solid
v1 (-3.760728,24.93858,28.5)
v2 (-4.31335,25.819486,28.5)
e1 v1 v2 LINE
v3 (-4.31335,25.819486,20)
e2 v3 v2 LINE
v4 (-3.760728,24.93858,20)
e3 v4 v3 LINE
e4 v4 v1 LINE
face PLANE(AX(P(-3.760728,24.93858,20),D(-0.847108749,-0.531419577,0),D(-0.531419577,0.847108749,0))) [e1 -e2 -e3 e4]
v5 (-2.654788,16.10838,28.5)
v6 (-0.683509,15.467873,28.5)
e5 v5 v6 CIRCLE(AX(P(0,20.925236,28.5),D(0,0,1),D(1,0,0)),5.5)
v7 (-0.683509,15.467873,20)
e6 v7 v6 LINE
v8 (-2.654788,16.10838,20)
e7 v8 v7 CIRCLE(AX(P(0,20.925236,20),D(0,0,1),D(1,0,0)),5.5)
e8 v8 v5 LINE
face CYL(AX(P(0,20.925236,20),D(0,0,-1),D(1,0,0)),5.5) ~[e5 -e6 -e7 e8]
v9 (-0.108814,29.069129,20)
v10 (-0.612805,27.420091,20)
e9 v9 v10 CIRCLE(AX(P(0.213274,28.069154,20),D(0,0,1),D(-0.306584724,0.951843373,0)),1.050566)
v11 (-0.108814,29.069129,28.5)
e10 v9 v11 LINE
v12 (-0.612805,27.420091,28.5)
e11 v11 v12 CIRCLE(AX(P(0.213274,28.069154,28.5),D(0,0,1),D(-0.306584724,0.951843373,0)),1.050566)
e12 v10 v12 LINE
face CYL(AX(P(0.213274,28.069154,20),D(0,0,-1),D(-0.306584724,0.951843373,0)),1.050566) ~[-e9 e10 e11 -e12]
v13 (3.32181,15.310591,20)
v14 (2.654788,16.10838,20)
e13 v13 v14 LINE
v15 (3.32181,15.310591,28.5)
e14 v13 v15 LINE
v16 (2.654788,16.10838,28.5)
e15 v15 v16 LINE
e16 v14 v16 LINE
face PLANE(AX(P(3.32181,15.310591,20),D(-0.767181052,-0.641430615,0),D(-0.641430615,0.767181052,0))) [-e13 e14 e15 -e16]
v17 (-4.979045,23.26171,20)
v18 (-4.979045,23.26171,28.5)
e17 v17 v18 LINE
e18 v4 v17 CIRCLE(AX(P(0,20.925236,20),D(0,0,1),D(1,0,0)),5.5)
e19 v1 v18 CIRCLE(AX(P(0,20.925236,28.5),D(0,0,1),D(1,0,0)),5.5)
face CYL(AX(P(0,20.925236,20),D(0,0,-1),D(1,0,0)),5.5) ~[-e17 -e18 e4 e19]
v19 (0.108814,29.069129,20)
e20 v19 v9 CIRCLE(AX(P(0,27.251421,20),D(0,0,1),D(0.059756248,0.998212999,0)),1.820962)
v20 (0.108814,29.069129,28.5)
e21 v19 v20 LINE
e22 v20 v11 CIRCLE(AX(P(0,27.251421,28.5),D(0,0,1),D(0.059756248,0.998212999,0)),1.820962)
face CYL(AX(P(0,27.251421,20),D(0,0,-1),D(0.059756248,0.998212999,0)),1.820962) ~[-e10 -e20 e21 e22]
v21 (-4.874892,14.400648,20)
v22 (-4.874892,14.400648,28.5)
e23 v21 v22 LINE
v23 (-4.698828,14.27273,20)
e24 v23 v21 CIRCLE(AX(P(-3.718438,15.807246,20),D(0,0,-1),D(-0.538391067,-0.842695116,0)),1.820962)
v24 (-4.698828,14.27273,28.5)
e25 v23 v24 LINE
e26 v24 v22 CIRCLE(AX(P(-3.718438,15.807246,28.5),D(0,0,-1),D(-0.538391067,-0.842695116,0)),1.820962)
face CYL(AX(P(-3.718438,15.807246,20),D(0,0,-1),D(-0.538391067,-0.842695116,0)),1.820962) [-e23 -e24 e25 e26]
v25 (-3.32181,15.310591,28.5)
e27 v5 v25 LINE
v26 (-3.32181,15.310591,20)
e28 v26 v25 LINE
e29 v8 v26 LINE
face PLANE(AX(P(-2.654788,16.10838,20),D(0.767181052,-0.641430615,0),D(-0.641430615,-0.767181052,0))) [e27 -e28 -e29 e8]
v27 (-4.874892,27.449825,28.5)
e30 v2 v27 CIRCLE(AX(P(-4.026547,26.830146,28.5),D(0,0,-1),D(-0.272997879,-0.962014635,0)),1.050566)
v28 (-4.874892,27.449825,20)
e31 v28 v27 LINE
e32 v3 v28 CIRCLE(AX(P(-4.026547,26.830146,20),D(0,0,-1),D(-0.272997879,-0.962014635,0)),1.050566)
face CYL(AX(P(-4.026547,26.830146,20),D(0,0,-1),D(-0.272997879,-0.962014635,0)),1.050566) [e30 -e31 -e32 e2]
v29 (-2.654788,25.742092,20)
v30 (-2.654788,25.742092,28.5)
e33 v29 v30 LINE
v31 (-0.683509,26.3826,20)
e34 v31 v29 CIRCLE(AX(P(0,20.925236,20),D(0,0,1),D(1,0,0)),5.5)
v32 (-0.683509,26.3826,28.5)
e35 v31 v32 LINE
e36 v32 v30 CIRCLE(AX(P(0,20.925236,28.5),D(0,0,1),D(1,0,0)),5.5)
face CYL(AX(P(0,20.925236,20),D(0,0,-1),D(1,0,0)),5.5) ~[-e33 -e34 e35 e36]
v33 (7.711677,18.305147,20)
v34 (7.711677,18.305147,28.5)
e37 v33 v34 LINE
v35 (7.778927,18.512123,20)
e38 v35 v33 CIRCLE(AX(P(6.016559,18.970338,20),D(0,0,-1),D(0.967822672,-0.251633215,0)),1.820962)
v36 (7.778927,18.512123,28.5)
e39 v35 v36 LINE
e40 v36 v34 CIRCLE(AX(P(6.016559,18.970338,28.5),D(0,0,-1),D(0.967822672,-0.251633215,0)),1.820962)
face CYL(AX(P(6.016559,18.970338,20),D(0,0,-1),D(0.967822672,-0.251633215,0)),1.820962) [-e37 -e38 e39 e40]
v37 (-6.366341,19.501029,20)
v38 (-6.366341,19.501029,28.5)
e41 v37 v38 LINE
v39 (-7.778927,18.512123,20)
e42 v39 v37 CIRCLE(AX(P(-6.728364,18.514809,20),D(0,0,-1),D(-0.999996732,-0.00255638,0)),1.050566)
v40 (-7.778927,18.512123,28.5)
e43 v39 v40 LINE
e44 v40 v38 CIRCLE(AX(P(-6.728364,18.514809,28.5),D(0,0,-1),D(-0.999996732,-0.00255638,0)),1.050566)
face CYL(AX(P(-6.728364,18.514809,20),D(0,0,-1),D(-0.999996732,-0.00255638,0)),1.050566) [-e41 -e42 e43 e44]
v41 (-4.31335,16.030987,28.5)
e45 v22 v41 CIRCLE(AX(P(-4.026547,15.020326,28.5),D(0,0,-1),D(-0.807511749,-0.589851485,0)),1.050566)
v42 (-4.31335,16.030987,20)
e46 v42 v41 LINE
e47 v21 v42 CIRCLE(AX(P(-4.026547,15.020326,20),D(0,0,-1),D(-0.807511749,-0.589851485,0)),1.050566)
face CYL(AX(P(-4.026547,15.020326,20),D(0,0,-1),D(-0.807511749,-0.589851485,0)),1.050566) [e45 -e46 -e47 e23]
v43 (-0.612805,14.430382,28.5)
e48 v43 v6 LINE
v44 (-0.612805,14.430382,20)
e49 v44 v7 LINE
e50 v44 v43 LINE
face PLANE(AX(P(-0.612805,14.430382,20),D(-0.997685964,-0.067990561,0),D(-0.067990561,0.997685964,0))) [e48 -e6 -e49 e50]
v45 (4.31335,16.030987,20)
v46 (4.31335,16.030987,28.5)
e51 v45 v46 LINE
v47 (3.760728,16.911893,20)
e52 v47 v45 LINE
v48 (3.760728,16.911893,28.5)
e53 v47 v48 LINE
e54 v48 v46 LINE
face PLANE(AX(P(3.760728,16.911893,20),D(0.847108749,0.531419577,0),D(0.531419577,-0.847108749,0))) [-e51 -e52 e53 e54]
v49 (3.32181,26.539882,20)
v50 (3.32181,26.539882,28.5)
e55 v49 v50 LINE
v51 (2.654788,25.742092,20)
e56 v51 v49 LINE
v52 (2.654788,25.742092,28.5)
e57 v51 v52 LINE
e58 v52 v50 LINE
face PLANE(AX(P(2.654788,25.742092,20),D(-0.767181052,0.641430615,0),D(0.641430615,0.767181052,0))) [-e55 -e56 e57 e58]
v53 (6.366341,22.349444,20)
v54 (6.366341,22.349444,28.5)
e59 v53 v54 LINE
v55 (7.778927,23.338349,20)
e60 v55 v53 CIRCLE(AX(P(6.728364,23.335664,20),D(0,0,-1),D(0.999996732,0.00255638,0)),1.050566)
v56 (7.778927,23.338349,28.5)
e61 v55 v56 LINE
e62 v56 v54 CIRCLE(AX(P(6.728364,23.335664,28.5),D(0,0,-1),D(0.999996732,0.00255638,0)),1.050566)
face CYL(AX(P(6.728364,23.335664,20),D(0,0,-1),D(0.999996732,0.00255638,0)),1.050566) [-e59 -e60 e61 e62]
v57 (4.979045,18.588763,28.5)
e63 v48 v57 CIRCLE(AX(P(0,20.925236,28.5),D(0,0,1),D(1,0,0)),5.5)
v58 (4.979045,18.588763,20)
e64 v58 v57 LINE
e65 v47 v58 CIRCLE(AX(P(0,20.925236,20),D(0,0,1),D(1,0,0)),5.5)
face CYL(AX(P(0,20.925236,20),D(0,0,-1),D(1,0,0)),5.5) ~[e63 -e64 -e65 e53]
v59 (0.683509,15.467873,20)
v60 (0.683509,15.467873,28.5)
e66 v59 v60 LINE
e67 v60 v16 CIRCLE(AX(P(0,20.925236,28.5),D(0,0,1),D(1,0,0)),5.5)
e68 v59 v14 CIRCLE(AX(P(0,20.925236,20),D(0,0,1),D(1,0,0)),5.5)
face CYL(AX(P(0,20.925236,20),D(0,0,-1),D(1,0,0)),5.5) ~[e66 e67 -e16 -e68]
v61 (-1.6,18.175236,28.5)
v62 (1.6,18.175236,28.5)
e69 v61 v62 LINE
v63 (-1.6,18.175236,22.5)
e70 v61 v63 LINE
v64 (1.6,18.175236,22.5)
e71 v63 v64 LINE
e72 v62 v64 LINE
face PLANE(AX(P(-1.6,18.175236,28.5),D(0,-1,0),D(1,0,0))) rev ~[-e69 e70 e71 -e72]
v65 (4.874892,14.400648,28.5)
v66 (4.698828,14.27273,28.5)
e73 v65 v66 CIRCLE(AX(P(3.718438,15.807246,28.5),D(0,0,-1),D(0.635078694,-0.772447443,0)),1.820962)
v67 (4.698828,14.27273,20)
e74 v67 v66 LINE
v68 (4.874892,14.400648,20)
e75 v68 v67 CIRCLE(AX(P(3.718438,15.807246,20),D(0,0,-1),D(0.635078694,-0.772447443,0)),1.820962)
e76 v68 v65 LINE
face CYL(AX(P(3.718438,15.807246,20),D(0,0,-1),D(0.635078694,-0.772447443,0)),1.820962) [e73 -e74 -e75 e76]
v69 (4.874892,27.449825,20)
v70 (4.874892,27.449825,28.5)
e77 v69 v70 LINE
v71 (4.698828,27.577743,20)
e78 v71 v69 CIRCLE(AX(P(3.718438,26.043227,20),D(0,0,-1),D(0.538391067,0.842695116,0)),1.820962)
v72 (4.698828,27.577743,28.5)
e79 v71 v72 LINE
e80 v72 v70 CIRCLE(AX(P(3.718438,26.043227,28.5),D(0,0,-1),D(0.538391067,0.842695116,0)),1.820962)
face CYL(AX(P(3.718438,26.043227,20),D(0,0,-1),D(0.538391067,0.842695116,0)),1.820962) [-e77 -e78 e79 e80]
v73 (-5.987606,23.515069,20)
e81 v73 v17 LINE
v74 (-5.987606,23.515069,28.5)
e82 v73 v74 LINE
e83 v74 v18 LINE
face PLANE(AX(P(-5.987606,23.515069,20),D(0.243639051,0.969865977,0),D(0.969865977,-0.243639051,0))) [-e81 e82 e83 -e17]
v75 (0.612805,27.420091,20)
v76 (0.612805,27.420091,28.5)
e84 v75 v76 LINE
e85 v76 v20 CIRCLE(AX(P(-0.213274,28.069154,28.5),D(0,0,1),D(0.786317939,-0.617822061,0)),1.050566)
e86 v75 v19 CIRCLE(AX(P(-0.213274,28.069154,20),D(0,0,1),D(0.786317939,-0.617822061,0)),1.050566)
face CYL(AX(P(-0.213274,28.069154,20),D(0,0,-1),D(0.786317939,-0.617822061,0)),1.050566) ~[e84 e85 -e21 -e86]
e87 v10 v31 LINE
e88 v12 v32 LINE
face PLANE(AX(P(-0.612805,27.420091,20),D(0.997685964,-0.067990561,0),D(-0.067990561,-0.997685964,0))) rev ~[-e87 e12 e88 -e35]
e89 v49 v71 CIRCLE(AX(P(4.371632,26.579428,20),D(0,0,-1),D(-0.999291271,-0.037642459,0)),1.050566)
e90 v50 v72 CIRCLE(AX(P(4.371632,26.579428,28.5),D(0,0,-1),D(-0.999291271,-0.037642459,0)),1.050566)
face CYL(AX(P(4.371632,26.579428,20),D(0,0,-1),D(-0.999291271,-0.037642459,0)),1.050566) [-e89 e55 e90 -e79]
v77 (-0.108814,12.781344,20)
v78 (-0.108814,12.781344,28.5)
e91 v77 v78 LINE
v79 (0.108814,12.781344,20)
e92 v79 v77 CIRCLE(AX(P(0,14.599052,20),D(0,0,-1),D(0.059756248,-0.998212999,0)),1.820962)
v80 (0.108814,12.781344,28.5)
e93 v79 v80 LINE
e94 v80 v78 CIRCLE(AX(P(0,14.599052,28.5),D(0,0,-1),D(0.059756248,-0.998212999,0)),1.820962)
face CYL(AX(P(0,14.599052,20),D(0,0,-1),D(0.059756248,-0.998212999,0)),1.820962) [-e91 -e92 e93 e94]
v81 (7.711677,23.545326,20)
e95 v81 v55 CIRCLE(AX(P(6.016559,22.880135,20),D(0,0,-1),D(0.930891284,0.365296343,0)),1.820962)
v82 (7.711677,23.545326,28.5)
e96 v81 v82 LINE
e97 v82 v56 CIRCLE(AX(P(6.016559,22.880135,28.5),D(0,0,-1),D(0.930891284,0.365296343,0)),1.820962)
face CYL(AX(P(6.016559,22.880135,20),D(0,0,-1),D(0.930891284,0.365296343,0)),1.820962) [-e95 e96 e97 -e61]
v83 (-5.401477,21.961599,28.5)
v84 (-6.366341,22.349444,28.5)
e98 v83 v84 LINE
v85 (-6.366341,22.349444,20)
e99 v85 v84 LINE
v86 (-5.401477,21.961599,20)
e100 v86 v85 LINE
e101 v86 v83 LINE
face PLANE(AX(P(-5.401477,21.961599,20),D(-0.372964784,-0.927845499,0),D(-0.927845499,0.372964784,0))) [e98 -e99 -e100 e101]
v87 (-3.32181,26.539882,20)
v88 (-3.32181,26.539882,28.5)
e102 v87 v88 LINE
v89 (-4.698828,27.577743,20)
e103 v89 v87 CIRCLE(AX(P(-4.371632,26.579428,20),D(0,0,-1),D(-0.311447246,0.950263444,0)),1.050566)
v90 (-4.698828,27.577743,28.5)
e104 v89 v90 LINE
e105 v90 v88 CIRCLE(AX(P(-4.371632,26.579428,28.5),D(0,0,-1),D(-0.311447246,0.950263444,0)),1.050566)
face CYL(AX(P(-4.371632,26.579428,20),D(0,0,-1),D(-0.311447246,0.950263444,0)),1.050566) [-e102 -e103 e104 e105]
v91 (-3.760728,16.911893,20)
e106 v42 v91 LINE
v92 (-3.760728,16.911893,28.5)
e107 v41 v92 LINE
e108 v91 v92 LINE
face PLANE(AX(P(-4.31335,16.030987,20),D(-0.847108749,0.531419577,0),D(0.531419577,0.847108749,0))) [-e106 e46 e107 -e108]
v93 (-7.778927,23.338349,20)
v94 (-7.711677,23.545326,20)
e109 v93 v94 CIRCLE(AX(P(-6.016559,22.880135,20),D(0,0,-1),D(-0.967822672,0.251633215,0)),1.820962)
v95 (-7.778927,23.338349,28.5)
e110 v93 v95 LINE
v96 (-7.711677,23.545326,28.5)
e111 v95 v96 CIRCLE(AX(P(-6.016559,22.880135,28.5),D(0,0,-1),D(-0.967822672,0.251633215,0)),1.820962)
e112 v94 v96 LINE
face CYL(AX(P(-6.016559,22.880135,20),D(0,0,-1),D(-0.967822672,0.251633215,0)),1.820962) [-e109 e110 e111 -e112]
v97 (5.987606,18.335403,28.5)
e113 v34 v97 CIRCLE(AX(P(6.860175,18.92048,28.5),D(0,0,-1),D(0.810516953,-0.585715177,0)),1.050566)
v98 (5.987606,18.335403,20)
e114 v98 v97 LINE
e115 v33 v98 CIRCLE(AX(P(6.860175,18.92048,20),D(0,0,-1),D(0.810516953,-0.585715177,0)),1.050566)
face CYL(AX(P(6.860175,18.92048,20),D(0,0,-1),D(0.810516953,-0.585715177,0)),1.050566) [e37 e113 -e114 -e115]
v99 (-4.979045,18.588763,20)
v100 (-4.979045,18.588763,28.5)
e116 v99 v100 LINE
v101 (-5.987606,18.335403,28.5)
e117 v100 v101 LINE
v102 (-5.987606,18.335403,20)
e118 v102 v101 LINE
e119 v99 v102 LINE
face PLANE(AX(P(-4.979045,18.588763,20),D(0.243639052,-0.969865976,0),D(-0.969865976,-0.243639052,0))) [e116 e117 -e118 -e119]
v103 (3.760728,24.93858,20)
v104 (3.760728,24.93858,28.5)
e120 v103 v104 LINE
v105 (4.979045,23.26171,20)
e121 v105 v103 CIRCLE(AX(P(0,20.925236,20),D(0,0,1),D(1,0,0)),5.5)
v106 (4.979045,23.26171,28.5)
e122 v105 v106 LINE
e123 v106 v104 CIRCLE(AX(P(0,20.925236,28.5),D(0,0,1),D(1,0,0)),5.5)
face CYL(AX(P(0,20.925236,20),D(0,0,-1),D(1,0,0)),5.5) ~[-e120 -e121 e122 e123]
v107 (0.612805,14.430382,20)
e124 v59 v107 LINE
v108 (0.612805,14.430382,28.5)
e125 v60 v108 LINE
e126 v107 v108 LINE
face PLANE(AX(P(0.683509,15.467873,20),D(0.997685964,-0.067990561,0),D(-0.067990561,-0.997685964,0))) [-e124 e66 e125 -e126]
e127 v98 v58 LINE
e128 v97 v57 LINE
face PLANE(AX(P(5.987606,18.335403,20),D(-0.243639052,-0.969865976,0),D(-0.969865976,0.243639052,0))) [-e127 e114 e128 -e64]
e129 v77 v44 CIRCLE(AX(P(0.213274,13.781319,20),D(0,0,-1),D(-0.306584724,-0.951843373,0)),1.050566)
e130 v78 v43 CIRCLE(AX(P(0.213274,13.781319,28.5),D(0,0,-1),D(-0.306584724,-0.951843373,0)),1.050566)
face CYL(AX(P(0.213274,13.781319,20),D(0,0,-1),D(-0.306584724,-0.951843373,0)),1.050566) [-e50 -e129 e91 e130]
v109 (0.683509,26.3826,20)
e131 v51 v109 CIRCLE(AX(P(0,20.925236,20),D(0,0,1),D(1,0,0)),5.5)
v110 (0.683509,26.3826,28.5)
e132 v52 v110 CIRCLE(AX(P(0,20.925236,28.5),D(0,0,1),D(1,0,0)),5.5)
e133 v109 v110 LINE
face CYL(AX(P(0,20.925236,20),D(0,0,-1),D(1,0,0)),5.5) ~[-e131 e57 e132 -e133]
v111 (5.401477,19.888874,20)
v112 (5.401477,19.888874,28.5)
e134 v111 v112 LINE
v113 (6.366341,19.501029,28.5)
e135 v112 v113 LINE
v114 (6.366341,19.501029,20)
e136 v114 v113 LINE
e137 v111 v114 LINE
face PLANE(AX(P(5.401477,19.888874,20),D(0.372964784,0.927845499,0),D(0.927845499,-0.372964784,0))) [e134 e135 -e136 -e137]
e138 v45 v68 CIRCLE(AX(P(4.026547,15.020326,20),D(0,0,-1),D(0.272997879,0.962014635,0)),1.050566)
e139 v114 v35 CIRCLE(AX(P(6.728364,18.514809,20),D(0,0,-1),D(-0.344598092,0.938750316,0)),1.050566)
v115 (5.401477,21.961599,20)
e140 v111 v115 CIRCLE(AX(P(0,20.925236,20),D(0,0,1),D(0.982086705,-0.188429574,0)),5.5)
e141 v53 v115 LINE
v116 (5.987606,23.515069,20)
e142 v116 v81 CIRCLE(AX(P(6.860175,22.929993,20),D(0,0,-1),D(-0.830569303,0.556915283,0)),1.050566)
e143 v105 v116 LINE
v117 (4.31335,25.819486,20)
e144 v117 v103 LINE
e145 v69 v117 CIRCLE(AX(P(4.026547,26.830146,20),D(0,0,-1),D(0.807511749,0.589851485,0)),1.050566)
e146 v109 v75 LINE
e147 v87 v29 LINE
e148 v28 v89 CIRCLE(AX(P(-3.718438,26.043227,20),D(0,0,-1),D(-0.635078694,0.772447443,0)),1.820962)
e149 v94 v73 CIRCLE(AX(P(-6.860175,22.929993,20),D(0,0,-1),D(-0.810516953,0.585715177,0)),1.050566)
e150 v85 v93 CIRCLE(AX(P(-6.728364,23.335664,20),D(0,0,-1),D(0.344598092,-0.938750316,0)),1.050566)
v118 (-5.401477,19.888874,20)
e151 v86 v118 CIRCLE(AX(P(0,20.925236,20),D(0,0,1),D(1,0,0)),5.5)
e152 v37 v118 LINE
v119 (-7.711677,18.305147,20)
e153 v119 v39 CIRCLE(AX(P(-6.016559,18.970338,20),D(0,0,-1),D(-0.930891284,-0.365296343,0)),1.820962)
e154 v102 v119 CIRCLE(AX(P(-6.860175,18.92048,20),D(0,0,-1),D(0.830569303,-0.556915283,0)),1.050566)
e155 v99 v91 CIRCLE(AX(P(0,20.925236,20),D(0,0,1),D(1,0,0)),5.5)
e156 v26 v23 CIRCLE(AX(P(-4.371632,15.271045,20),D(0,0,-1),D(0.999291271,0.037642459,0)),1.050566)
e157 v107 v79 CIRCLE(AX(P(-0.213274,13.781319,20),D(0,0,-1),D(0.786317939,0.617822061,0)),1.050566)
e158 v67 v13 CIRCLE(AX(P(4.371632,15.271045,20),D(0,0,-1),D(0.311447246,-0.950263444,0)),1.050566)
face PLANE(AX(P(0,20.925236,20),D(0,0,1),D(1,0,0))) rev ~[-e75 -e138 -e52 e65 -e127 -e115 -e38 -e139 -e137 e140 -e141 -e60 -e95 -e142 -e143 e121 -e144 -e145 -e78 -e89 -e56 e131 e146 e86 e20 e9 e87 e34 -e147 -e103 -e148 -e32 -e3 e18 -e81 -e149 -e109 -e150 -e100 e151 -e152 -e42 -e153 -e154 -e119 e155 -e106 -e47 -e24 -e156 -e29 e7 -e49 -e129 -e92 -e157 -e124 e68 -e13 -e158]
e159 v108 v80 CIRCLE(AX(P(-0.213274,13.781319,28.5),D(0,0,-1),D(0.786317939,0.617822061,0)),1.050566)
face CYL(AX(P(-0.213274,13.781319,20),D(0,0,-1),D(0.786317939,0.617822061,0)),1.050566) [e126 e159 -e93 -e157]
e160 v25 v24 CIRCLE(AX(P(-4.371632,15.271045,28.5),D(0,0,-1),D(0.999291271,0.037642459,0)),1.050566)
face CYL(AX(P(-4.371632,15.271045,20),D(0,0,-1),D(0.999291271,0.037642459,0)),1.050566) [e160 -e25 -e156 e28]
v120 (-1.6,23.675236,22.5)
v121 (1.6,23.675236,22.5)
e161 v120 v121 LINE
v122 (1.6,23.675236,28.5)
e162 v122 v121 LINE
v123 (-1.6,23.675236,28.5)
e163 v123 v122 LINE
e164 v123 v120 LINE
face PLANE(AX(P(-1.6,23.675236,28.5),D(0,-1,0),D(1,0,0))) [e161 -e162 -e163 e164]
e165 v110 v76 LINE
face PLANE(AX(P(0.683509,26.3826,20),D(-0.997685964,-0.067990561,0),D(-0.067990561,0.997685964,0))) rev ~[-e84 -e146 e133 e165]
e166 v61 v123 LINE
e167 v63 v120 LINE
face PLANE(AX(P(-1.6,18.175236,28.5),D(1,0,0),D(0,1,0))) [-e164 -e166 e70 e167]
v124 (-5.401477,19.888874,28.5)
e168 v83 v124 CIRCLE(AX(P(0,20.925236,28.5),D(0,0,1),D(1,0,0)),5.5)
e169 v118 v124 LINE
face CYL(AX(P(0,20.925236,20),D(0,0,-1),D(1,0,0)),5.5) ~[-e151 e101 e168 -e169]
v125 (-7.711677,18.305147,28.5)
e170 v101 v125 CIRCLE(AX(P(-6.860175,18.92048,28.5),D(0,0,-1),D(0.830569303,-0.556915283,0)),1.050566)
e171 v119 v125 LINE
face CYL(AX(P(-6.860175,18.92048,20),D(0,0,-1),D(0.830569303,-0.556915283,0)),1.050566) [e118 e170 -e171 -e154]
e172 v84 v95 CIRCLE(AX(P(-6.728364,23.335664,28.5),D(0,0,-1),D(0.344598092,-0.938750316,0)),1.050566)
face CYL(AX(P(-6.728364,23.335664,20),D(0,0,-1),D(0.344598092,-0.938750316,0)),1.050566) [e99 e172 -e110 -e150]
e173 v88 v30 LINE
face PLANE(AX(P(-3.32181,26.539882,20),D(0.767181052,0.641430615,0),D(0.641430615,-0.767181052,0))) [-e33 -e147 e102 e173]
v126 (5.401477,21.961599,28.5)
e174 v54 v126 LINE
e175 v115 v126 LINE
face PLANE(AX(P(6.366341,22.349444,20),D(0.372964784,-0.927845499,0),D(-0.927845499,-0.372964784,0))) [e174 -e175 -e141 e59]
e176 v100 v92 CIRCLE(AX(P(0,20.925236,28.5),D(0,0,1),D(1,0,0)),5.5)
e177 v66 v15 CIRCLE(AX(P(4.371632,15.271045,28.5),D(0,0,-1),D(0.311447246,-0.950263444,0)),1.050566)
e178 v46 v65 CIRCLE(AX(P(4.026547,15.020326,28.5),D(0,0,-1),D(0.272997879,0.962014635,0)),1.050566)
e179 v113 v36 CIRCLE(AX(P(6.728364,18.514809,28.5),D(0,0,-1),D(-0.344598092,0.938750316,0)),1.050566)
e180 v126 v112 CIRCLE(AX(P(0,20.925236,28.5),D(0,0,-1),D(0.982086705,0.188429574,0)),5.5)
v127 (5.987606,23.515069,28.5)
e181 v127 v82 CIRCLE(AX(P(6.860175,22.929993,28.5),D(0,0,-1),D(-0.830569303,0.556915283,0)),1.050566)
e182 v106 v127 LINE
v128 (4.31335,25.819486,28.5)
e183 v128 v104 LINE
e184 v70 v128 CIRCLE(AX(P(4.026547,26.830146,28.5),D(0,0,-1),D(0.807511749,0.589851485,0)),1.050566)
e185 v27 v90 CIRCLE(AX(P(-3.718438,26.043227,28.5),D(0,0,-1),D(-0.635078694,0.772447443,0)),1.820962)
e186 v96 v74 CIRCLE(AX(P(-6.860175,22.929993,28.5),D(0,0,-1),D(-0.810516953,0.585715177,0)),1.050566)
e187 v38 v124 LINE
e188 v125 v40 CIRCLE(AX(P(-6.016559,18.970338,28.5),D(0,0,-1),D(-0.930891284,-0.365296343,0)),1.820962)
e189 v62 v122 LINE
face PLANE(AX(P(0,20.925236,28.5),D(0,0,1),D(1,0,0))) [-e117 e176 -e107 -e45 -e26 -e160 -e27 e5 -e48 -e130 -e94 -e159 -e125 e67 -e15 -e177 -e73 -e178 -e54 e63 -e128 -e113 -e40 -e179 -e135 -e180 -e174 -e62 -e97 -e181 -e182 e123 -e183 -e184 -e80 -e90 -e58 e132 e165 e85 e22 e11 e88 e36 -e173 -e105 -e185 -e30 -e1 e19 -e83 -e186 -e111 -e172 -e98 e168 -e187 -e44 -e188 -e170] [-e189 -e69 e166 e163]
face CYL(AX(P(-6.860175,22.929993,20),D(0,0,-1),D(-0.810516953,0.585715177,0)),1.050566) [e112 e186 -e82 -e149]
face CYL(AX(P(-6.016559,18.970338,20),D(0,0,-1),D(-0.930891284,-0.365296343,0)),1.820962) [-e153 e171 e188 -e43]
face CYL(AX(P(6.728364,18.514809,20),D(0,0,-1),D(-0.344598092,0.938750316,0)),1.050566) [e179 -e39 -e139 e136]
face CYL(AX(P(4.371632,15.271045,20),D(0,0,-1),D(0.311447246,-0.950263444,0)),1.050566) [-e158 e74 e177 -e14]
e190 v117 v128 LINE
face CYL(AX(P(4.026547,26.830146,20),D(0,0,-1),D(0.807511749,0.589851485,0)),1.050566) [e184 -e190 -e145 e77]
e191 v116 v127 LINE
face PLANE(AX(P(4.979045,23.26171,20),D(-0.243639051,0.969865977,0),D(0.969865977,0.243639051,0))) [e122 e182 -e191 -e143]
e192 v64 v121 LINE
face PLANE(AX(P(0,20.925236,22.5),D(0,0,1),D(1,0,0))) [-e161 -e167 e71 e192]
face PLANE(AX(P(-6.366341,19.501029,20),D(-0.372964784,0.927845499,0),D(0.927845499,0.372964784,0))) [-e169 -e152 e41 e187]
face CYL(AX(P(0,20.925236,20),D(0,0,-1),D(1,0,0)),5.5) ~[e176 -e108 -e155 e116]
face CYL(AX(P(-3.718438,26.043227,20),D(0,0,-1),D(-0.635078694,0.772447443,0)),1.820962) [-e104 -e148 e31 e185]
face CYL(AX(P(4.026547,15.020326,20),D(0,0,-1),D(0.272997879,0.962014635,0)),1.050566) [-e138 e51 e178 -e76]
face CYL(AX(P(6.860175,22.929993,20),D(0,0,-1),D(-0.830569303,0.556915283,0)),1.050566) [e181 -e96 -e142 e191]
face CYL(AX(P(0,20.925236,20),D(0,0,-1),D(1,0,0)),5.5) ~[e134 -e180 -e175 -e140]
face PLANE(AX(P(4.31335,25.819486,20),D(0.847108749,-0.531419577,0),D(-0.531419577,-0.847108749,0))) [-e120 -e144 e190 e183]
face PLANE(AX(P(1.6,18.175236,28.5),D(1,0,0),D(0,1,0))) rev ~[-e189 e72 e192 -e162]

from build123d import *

# Parameters (mm, degrees)
SKETCH1_R           = 5.5
BOSS_EXTRUDE2_DEPTH = 8.5
SKETCH3_W           = 3.2
SKETCH3_H           = 5.5
CUT_EXTRUDE1_DEPTH  = 6
BOSS_EXTRUDE3_DEPTH = 8.5


with BuildPart() as part:
    # Sketch1 → Boss-Extrude2 (new body)
    with BuildSketch(Plane.XY.offset(20)):
        with Locations((0, 20.92523633)):
            Circle(SKETCH1_R)
    extrude(amount=BOSS_EXTRUDE2_DEPTH)

    # Sketch3 → Cut-Extrude1 (cut)
    with BuildSketch(Plane.XY.offset(28.5)):
        with Locations((0, 20.92523633)):
            Rectangle(SKETCH3_W, SKETCH3_H)
    extrude(amount=-CUT_EXTRUDE1_DEPTH, mode=Mode.SUBTRACT)

    # Sketch4 → Boss-Extrude3 (add)
    with BuildSketch(Plane.XY.offset(20)):
        with BuildLine():
            Line((-0.612805484, 27.420090848), (-0.683508693, 26.382599784))
            ThreePointArc((-0.683508693, 26.382599784), (0, 26.42523633), (0.683508693, 26.382599784))
            Line((0.683508693, 26.382599784), (0.612805484, 27.420090848))
            ThreePointArc((0.612805484, 27.420090848), (0.791416866, 28.376215286), (0.108813843, 29.069128758))
            ThreePointArc((0.108813843, 29.069128758), (0, 29.072382819), (-0.108813843, 29.069128758))
            ThreePointArc((-0.108813843, 29.069128758), (-0.791416866, 28.376215286), (-0.612805484, 27.420090848))
        make_face()
        with BuildLine():
            Line((4.313349752, 25.819485985), (3.760727903, 24.938579779))
            ThreePointArc((3.760727903, 24.938579779), (3.232818888, 25.374829799), (2.654787606, 25.742092438))
            Line((2.654787606, 25.742092438), (3.32180965, 26.539882037))
            ThreePointArc((3.32180965, 26.539882037), (3.739305851, 27.418388093), (4.698827617, 27.577742877))
            ThreePointArc((4.698827617, 27.577742877), (4.788772554, 27.516416295), (4.874892114, 27.449824532))
            ThreePointArc((4.874892114, 27.449824532), (5.01984524, 26.488021768), (4.313349752, 25.819485985))
        make_face()
        with BuildLine():
            Line((6.36634102, 22.349444103), (5.401476877, 21.961598985))
            ThreePointArc((5.401476877, 21.961598985), (5.23081084, 22.624829799), (4.979045272, 23.261709779))
            Line((4.979045272, 23.261709779), (5.987606403, 23.515069401))
            ThreePointArc((5.987606403, 23.515069401), (6.841740827, 23.98039762), (7.711676635, 23.545325605))
            ThreePointArc((7.711676635, 23.545325605), (7.748396757, 23.442843051), (7.778927288, 23.338349376))
            ThreePointArc((7.778927288, 23.338349376), (7.33086335, 22.475033284), (6.36634102, 22.349444103))
        make_face()
        with BuildLine():
            Line((5.987606403, 18.335403259), (4.979045272, 18.588762882))
            ThreePointArc((4.979045272, 18.588762882), (5.23081084, 19.225642861), (5.401476877, 19.888873675))
            Line((5.401476877, 19.888873675), (6.36634102, 19.501028557))
            ThreePointArc((6.36634102, 19.501028557), (7.33086335, 19.375439376), (7.778927288, 18.512123284))
            ThreePointArc((7.778927288, 18.512123284), (7.748396757, 18.407629609), (7.711676635, 18.305147055))
            ThreePointArc((7.711676635, 18.305147055), (6.841740827, 17.87007504), (5.987606403, 18.335403259))
        make_face()
        with BuildLine():
            Line((3.32180965, 15.310590623), (2.654787606, 16.108380222))
            ThreePointArc((2.654787606, 16.108380222), (3.232818888, 16.475642861), (3.760727903, 16.911892881))
            Line((3.760727903, 16.911892881), (4.313349752, 16.030986675))
            ThreePointArc((4.313349752, 16.030986675), (5.01984524, 15.362450892), (4.874892114, 14.400648128))
            ThreePointArc((4.874892114, 14.400648128), (4.788772554, 14.334056365), (4.698827617, 14.272729783))
            ThreePointArc((4.698827617, 14.272729783), (3.739305851, 14.432084567), (3.32180965, 15.310590623))
        make_face()
        with BuildLine():
            Line((-0.612805484, 14.430381812), (-0.683508693, 15.467872876))
            ThreePointArc((-0.683508693, 15.467872876), (0, 15.42523633), (0.683508693, 15.467872876))
            Line((0.683508693, 15.467872876), (0.612805484, 14.430381812))
            ThreePointArc((0.612805484, 14.430381812), (0.791416866, 13.474257374), (0.108813843, 12.781343902))
            ThreePointArc((0.108813843, 12.781343902), (0, 12.778089841), (-0.108813843, 12.781343902))
            ThreePointArc((-0.108813843, 12.781343902), (-0.791416866, 13.474257374), (-0.612805484, 14.430381812))
        make_face()
        with BuildLine():
            Line((-4.313349752, 16.030986675), (-3.760727903, 16.911892881))
            ThreePointArc((-3.760727903, 16.911892881), (-3.232818888, 16.475642861), (-2.654787606, 16.108380222))
            Line((-2.654787606, 16.108380222), (-3.32180965, 15.310590623))
            ThreePointArc((-3.32180965, 15.310590623), (-3.739305851, 14.432084567), (-4.698827617, 14.272729783))
            ThreePointArc((-4.698827617, 14.272729783), (-4.788772554, 14.334056365), (-4.874892114, 14.400648128))
            ThreePointArc((-4.874892114, 14.400648128), (-5.01984524, 15.362450892), (-4.313349752, 16.030986675))
        make_face()
        with BuildLine():
            Line((-6.36634102, 19.501028557), (-5.401476877, 19.888873675))
            ThreePointArc((-5.401476877, 19.888873675), (-5.23081084, 19.225642861), (-4.979045272, 18.588762882))
            Line((-4.979045272, 18.588762882), (-5.987606403, 18.335403259))
            ThreePointArc((-5.987606403, 18.335403259), (-6.841740827, 17.87007504), (-7.711676635, 18.305147055))
            ThreePointArc((-7.711676635, 18.305147055), (-7.748396757, 18.407629609), (-7.778927288, 18.512123284))
            ThreePointArc((-7.778927288, 18.512123284), (-7.33086335, 19.375439376), (-6.36634102, 19.501028557))
        make_face()
        with BuildLine():
            Line((-5.987606403, 23.515069401), (-4.979045272, 23.261709779))
            ThreePointArc((-4.979045272, 23.261709779), (-5.23081084, 22.624829799), (-5.401476877, 21.961598985))
            Line((-5.401476877, 21.961598985), (-6.36634102, 22.349444103))
            ThreePointArc((-6.36634102, 22.349444103), (-7.33086335, 22.475033284), (-7.778927288, 23.338349376))
            ThreePointArc((-7.778927288, 23.338349376), (-7.748396757, 23.442843051), (-7.711676635, 23.545325605))
            ThreePointArc((-7.711676635, 23.545325605), (-6.841740827, 23.98039762), (-5.987606403, 23.515069401))
        make_face()
        with BuildLine():
            Line((-3.32180965, 26.539882037), (-2.654787606, 25.742092438))
            ThreePointArc((-2.654787606, 25.742092438), (-3.232818888, 25.374829799), (-3.760727903, 24.938579779))
            Line((-3.760727903, 24.938579779), (-4.313349752, 25.819485985))
            ThreePointArc((-4.313349752, 25.819485985), (-5.01984524, 26.488021768), (-4.874892114, 27.449824532))
            ThreePointArc((-4.874892114, 27.449824532), (-4.788772554, 27.516416295), (-4.698827617, 27.577742877))
            ThreePointArc((-4.698827617, 27.577742877), (-3.739305851, 27.418388093), (-3.32180965, 26.539882037))
        make_face()
    extrude(amount=BOSS_EXTRUDE3_DEPTH)


solid = part.part
